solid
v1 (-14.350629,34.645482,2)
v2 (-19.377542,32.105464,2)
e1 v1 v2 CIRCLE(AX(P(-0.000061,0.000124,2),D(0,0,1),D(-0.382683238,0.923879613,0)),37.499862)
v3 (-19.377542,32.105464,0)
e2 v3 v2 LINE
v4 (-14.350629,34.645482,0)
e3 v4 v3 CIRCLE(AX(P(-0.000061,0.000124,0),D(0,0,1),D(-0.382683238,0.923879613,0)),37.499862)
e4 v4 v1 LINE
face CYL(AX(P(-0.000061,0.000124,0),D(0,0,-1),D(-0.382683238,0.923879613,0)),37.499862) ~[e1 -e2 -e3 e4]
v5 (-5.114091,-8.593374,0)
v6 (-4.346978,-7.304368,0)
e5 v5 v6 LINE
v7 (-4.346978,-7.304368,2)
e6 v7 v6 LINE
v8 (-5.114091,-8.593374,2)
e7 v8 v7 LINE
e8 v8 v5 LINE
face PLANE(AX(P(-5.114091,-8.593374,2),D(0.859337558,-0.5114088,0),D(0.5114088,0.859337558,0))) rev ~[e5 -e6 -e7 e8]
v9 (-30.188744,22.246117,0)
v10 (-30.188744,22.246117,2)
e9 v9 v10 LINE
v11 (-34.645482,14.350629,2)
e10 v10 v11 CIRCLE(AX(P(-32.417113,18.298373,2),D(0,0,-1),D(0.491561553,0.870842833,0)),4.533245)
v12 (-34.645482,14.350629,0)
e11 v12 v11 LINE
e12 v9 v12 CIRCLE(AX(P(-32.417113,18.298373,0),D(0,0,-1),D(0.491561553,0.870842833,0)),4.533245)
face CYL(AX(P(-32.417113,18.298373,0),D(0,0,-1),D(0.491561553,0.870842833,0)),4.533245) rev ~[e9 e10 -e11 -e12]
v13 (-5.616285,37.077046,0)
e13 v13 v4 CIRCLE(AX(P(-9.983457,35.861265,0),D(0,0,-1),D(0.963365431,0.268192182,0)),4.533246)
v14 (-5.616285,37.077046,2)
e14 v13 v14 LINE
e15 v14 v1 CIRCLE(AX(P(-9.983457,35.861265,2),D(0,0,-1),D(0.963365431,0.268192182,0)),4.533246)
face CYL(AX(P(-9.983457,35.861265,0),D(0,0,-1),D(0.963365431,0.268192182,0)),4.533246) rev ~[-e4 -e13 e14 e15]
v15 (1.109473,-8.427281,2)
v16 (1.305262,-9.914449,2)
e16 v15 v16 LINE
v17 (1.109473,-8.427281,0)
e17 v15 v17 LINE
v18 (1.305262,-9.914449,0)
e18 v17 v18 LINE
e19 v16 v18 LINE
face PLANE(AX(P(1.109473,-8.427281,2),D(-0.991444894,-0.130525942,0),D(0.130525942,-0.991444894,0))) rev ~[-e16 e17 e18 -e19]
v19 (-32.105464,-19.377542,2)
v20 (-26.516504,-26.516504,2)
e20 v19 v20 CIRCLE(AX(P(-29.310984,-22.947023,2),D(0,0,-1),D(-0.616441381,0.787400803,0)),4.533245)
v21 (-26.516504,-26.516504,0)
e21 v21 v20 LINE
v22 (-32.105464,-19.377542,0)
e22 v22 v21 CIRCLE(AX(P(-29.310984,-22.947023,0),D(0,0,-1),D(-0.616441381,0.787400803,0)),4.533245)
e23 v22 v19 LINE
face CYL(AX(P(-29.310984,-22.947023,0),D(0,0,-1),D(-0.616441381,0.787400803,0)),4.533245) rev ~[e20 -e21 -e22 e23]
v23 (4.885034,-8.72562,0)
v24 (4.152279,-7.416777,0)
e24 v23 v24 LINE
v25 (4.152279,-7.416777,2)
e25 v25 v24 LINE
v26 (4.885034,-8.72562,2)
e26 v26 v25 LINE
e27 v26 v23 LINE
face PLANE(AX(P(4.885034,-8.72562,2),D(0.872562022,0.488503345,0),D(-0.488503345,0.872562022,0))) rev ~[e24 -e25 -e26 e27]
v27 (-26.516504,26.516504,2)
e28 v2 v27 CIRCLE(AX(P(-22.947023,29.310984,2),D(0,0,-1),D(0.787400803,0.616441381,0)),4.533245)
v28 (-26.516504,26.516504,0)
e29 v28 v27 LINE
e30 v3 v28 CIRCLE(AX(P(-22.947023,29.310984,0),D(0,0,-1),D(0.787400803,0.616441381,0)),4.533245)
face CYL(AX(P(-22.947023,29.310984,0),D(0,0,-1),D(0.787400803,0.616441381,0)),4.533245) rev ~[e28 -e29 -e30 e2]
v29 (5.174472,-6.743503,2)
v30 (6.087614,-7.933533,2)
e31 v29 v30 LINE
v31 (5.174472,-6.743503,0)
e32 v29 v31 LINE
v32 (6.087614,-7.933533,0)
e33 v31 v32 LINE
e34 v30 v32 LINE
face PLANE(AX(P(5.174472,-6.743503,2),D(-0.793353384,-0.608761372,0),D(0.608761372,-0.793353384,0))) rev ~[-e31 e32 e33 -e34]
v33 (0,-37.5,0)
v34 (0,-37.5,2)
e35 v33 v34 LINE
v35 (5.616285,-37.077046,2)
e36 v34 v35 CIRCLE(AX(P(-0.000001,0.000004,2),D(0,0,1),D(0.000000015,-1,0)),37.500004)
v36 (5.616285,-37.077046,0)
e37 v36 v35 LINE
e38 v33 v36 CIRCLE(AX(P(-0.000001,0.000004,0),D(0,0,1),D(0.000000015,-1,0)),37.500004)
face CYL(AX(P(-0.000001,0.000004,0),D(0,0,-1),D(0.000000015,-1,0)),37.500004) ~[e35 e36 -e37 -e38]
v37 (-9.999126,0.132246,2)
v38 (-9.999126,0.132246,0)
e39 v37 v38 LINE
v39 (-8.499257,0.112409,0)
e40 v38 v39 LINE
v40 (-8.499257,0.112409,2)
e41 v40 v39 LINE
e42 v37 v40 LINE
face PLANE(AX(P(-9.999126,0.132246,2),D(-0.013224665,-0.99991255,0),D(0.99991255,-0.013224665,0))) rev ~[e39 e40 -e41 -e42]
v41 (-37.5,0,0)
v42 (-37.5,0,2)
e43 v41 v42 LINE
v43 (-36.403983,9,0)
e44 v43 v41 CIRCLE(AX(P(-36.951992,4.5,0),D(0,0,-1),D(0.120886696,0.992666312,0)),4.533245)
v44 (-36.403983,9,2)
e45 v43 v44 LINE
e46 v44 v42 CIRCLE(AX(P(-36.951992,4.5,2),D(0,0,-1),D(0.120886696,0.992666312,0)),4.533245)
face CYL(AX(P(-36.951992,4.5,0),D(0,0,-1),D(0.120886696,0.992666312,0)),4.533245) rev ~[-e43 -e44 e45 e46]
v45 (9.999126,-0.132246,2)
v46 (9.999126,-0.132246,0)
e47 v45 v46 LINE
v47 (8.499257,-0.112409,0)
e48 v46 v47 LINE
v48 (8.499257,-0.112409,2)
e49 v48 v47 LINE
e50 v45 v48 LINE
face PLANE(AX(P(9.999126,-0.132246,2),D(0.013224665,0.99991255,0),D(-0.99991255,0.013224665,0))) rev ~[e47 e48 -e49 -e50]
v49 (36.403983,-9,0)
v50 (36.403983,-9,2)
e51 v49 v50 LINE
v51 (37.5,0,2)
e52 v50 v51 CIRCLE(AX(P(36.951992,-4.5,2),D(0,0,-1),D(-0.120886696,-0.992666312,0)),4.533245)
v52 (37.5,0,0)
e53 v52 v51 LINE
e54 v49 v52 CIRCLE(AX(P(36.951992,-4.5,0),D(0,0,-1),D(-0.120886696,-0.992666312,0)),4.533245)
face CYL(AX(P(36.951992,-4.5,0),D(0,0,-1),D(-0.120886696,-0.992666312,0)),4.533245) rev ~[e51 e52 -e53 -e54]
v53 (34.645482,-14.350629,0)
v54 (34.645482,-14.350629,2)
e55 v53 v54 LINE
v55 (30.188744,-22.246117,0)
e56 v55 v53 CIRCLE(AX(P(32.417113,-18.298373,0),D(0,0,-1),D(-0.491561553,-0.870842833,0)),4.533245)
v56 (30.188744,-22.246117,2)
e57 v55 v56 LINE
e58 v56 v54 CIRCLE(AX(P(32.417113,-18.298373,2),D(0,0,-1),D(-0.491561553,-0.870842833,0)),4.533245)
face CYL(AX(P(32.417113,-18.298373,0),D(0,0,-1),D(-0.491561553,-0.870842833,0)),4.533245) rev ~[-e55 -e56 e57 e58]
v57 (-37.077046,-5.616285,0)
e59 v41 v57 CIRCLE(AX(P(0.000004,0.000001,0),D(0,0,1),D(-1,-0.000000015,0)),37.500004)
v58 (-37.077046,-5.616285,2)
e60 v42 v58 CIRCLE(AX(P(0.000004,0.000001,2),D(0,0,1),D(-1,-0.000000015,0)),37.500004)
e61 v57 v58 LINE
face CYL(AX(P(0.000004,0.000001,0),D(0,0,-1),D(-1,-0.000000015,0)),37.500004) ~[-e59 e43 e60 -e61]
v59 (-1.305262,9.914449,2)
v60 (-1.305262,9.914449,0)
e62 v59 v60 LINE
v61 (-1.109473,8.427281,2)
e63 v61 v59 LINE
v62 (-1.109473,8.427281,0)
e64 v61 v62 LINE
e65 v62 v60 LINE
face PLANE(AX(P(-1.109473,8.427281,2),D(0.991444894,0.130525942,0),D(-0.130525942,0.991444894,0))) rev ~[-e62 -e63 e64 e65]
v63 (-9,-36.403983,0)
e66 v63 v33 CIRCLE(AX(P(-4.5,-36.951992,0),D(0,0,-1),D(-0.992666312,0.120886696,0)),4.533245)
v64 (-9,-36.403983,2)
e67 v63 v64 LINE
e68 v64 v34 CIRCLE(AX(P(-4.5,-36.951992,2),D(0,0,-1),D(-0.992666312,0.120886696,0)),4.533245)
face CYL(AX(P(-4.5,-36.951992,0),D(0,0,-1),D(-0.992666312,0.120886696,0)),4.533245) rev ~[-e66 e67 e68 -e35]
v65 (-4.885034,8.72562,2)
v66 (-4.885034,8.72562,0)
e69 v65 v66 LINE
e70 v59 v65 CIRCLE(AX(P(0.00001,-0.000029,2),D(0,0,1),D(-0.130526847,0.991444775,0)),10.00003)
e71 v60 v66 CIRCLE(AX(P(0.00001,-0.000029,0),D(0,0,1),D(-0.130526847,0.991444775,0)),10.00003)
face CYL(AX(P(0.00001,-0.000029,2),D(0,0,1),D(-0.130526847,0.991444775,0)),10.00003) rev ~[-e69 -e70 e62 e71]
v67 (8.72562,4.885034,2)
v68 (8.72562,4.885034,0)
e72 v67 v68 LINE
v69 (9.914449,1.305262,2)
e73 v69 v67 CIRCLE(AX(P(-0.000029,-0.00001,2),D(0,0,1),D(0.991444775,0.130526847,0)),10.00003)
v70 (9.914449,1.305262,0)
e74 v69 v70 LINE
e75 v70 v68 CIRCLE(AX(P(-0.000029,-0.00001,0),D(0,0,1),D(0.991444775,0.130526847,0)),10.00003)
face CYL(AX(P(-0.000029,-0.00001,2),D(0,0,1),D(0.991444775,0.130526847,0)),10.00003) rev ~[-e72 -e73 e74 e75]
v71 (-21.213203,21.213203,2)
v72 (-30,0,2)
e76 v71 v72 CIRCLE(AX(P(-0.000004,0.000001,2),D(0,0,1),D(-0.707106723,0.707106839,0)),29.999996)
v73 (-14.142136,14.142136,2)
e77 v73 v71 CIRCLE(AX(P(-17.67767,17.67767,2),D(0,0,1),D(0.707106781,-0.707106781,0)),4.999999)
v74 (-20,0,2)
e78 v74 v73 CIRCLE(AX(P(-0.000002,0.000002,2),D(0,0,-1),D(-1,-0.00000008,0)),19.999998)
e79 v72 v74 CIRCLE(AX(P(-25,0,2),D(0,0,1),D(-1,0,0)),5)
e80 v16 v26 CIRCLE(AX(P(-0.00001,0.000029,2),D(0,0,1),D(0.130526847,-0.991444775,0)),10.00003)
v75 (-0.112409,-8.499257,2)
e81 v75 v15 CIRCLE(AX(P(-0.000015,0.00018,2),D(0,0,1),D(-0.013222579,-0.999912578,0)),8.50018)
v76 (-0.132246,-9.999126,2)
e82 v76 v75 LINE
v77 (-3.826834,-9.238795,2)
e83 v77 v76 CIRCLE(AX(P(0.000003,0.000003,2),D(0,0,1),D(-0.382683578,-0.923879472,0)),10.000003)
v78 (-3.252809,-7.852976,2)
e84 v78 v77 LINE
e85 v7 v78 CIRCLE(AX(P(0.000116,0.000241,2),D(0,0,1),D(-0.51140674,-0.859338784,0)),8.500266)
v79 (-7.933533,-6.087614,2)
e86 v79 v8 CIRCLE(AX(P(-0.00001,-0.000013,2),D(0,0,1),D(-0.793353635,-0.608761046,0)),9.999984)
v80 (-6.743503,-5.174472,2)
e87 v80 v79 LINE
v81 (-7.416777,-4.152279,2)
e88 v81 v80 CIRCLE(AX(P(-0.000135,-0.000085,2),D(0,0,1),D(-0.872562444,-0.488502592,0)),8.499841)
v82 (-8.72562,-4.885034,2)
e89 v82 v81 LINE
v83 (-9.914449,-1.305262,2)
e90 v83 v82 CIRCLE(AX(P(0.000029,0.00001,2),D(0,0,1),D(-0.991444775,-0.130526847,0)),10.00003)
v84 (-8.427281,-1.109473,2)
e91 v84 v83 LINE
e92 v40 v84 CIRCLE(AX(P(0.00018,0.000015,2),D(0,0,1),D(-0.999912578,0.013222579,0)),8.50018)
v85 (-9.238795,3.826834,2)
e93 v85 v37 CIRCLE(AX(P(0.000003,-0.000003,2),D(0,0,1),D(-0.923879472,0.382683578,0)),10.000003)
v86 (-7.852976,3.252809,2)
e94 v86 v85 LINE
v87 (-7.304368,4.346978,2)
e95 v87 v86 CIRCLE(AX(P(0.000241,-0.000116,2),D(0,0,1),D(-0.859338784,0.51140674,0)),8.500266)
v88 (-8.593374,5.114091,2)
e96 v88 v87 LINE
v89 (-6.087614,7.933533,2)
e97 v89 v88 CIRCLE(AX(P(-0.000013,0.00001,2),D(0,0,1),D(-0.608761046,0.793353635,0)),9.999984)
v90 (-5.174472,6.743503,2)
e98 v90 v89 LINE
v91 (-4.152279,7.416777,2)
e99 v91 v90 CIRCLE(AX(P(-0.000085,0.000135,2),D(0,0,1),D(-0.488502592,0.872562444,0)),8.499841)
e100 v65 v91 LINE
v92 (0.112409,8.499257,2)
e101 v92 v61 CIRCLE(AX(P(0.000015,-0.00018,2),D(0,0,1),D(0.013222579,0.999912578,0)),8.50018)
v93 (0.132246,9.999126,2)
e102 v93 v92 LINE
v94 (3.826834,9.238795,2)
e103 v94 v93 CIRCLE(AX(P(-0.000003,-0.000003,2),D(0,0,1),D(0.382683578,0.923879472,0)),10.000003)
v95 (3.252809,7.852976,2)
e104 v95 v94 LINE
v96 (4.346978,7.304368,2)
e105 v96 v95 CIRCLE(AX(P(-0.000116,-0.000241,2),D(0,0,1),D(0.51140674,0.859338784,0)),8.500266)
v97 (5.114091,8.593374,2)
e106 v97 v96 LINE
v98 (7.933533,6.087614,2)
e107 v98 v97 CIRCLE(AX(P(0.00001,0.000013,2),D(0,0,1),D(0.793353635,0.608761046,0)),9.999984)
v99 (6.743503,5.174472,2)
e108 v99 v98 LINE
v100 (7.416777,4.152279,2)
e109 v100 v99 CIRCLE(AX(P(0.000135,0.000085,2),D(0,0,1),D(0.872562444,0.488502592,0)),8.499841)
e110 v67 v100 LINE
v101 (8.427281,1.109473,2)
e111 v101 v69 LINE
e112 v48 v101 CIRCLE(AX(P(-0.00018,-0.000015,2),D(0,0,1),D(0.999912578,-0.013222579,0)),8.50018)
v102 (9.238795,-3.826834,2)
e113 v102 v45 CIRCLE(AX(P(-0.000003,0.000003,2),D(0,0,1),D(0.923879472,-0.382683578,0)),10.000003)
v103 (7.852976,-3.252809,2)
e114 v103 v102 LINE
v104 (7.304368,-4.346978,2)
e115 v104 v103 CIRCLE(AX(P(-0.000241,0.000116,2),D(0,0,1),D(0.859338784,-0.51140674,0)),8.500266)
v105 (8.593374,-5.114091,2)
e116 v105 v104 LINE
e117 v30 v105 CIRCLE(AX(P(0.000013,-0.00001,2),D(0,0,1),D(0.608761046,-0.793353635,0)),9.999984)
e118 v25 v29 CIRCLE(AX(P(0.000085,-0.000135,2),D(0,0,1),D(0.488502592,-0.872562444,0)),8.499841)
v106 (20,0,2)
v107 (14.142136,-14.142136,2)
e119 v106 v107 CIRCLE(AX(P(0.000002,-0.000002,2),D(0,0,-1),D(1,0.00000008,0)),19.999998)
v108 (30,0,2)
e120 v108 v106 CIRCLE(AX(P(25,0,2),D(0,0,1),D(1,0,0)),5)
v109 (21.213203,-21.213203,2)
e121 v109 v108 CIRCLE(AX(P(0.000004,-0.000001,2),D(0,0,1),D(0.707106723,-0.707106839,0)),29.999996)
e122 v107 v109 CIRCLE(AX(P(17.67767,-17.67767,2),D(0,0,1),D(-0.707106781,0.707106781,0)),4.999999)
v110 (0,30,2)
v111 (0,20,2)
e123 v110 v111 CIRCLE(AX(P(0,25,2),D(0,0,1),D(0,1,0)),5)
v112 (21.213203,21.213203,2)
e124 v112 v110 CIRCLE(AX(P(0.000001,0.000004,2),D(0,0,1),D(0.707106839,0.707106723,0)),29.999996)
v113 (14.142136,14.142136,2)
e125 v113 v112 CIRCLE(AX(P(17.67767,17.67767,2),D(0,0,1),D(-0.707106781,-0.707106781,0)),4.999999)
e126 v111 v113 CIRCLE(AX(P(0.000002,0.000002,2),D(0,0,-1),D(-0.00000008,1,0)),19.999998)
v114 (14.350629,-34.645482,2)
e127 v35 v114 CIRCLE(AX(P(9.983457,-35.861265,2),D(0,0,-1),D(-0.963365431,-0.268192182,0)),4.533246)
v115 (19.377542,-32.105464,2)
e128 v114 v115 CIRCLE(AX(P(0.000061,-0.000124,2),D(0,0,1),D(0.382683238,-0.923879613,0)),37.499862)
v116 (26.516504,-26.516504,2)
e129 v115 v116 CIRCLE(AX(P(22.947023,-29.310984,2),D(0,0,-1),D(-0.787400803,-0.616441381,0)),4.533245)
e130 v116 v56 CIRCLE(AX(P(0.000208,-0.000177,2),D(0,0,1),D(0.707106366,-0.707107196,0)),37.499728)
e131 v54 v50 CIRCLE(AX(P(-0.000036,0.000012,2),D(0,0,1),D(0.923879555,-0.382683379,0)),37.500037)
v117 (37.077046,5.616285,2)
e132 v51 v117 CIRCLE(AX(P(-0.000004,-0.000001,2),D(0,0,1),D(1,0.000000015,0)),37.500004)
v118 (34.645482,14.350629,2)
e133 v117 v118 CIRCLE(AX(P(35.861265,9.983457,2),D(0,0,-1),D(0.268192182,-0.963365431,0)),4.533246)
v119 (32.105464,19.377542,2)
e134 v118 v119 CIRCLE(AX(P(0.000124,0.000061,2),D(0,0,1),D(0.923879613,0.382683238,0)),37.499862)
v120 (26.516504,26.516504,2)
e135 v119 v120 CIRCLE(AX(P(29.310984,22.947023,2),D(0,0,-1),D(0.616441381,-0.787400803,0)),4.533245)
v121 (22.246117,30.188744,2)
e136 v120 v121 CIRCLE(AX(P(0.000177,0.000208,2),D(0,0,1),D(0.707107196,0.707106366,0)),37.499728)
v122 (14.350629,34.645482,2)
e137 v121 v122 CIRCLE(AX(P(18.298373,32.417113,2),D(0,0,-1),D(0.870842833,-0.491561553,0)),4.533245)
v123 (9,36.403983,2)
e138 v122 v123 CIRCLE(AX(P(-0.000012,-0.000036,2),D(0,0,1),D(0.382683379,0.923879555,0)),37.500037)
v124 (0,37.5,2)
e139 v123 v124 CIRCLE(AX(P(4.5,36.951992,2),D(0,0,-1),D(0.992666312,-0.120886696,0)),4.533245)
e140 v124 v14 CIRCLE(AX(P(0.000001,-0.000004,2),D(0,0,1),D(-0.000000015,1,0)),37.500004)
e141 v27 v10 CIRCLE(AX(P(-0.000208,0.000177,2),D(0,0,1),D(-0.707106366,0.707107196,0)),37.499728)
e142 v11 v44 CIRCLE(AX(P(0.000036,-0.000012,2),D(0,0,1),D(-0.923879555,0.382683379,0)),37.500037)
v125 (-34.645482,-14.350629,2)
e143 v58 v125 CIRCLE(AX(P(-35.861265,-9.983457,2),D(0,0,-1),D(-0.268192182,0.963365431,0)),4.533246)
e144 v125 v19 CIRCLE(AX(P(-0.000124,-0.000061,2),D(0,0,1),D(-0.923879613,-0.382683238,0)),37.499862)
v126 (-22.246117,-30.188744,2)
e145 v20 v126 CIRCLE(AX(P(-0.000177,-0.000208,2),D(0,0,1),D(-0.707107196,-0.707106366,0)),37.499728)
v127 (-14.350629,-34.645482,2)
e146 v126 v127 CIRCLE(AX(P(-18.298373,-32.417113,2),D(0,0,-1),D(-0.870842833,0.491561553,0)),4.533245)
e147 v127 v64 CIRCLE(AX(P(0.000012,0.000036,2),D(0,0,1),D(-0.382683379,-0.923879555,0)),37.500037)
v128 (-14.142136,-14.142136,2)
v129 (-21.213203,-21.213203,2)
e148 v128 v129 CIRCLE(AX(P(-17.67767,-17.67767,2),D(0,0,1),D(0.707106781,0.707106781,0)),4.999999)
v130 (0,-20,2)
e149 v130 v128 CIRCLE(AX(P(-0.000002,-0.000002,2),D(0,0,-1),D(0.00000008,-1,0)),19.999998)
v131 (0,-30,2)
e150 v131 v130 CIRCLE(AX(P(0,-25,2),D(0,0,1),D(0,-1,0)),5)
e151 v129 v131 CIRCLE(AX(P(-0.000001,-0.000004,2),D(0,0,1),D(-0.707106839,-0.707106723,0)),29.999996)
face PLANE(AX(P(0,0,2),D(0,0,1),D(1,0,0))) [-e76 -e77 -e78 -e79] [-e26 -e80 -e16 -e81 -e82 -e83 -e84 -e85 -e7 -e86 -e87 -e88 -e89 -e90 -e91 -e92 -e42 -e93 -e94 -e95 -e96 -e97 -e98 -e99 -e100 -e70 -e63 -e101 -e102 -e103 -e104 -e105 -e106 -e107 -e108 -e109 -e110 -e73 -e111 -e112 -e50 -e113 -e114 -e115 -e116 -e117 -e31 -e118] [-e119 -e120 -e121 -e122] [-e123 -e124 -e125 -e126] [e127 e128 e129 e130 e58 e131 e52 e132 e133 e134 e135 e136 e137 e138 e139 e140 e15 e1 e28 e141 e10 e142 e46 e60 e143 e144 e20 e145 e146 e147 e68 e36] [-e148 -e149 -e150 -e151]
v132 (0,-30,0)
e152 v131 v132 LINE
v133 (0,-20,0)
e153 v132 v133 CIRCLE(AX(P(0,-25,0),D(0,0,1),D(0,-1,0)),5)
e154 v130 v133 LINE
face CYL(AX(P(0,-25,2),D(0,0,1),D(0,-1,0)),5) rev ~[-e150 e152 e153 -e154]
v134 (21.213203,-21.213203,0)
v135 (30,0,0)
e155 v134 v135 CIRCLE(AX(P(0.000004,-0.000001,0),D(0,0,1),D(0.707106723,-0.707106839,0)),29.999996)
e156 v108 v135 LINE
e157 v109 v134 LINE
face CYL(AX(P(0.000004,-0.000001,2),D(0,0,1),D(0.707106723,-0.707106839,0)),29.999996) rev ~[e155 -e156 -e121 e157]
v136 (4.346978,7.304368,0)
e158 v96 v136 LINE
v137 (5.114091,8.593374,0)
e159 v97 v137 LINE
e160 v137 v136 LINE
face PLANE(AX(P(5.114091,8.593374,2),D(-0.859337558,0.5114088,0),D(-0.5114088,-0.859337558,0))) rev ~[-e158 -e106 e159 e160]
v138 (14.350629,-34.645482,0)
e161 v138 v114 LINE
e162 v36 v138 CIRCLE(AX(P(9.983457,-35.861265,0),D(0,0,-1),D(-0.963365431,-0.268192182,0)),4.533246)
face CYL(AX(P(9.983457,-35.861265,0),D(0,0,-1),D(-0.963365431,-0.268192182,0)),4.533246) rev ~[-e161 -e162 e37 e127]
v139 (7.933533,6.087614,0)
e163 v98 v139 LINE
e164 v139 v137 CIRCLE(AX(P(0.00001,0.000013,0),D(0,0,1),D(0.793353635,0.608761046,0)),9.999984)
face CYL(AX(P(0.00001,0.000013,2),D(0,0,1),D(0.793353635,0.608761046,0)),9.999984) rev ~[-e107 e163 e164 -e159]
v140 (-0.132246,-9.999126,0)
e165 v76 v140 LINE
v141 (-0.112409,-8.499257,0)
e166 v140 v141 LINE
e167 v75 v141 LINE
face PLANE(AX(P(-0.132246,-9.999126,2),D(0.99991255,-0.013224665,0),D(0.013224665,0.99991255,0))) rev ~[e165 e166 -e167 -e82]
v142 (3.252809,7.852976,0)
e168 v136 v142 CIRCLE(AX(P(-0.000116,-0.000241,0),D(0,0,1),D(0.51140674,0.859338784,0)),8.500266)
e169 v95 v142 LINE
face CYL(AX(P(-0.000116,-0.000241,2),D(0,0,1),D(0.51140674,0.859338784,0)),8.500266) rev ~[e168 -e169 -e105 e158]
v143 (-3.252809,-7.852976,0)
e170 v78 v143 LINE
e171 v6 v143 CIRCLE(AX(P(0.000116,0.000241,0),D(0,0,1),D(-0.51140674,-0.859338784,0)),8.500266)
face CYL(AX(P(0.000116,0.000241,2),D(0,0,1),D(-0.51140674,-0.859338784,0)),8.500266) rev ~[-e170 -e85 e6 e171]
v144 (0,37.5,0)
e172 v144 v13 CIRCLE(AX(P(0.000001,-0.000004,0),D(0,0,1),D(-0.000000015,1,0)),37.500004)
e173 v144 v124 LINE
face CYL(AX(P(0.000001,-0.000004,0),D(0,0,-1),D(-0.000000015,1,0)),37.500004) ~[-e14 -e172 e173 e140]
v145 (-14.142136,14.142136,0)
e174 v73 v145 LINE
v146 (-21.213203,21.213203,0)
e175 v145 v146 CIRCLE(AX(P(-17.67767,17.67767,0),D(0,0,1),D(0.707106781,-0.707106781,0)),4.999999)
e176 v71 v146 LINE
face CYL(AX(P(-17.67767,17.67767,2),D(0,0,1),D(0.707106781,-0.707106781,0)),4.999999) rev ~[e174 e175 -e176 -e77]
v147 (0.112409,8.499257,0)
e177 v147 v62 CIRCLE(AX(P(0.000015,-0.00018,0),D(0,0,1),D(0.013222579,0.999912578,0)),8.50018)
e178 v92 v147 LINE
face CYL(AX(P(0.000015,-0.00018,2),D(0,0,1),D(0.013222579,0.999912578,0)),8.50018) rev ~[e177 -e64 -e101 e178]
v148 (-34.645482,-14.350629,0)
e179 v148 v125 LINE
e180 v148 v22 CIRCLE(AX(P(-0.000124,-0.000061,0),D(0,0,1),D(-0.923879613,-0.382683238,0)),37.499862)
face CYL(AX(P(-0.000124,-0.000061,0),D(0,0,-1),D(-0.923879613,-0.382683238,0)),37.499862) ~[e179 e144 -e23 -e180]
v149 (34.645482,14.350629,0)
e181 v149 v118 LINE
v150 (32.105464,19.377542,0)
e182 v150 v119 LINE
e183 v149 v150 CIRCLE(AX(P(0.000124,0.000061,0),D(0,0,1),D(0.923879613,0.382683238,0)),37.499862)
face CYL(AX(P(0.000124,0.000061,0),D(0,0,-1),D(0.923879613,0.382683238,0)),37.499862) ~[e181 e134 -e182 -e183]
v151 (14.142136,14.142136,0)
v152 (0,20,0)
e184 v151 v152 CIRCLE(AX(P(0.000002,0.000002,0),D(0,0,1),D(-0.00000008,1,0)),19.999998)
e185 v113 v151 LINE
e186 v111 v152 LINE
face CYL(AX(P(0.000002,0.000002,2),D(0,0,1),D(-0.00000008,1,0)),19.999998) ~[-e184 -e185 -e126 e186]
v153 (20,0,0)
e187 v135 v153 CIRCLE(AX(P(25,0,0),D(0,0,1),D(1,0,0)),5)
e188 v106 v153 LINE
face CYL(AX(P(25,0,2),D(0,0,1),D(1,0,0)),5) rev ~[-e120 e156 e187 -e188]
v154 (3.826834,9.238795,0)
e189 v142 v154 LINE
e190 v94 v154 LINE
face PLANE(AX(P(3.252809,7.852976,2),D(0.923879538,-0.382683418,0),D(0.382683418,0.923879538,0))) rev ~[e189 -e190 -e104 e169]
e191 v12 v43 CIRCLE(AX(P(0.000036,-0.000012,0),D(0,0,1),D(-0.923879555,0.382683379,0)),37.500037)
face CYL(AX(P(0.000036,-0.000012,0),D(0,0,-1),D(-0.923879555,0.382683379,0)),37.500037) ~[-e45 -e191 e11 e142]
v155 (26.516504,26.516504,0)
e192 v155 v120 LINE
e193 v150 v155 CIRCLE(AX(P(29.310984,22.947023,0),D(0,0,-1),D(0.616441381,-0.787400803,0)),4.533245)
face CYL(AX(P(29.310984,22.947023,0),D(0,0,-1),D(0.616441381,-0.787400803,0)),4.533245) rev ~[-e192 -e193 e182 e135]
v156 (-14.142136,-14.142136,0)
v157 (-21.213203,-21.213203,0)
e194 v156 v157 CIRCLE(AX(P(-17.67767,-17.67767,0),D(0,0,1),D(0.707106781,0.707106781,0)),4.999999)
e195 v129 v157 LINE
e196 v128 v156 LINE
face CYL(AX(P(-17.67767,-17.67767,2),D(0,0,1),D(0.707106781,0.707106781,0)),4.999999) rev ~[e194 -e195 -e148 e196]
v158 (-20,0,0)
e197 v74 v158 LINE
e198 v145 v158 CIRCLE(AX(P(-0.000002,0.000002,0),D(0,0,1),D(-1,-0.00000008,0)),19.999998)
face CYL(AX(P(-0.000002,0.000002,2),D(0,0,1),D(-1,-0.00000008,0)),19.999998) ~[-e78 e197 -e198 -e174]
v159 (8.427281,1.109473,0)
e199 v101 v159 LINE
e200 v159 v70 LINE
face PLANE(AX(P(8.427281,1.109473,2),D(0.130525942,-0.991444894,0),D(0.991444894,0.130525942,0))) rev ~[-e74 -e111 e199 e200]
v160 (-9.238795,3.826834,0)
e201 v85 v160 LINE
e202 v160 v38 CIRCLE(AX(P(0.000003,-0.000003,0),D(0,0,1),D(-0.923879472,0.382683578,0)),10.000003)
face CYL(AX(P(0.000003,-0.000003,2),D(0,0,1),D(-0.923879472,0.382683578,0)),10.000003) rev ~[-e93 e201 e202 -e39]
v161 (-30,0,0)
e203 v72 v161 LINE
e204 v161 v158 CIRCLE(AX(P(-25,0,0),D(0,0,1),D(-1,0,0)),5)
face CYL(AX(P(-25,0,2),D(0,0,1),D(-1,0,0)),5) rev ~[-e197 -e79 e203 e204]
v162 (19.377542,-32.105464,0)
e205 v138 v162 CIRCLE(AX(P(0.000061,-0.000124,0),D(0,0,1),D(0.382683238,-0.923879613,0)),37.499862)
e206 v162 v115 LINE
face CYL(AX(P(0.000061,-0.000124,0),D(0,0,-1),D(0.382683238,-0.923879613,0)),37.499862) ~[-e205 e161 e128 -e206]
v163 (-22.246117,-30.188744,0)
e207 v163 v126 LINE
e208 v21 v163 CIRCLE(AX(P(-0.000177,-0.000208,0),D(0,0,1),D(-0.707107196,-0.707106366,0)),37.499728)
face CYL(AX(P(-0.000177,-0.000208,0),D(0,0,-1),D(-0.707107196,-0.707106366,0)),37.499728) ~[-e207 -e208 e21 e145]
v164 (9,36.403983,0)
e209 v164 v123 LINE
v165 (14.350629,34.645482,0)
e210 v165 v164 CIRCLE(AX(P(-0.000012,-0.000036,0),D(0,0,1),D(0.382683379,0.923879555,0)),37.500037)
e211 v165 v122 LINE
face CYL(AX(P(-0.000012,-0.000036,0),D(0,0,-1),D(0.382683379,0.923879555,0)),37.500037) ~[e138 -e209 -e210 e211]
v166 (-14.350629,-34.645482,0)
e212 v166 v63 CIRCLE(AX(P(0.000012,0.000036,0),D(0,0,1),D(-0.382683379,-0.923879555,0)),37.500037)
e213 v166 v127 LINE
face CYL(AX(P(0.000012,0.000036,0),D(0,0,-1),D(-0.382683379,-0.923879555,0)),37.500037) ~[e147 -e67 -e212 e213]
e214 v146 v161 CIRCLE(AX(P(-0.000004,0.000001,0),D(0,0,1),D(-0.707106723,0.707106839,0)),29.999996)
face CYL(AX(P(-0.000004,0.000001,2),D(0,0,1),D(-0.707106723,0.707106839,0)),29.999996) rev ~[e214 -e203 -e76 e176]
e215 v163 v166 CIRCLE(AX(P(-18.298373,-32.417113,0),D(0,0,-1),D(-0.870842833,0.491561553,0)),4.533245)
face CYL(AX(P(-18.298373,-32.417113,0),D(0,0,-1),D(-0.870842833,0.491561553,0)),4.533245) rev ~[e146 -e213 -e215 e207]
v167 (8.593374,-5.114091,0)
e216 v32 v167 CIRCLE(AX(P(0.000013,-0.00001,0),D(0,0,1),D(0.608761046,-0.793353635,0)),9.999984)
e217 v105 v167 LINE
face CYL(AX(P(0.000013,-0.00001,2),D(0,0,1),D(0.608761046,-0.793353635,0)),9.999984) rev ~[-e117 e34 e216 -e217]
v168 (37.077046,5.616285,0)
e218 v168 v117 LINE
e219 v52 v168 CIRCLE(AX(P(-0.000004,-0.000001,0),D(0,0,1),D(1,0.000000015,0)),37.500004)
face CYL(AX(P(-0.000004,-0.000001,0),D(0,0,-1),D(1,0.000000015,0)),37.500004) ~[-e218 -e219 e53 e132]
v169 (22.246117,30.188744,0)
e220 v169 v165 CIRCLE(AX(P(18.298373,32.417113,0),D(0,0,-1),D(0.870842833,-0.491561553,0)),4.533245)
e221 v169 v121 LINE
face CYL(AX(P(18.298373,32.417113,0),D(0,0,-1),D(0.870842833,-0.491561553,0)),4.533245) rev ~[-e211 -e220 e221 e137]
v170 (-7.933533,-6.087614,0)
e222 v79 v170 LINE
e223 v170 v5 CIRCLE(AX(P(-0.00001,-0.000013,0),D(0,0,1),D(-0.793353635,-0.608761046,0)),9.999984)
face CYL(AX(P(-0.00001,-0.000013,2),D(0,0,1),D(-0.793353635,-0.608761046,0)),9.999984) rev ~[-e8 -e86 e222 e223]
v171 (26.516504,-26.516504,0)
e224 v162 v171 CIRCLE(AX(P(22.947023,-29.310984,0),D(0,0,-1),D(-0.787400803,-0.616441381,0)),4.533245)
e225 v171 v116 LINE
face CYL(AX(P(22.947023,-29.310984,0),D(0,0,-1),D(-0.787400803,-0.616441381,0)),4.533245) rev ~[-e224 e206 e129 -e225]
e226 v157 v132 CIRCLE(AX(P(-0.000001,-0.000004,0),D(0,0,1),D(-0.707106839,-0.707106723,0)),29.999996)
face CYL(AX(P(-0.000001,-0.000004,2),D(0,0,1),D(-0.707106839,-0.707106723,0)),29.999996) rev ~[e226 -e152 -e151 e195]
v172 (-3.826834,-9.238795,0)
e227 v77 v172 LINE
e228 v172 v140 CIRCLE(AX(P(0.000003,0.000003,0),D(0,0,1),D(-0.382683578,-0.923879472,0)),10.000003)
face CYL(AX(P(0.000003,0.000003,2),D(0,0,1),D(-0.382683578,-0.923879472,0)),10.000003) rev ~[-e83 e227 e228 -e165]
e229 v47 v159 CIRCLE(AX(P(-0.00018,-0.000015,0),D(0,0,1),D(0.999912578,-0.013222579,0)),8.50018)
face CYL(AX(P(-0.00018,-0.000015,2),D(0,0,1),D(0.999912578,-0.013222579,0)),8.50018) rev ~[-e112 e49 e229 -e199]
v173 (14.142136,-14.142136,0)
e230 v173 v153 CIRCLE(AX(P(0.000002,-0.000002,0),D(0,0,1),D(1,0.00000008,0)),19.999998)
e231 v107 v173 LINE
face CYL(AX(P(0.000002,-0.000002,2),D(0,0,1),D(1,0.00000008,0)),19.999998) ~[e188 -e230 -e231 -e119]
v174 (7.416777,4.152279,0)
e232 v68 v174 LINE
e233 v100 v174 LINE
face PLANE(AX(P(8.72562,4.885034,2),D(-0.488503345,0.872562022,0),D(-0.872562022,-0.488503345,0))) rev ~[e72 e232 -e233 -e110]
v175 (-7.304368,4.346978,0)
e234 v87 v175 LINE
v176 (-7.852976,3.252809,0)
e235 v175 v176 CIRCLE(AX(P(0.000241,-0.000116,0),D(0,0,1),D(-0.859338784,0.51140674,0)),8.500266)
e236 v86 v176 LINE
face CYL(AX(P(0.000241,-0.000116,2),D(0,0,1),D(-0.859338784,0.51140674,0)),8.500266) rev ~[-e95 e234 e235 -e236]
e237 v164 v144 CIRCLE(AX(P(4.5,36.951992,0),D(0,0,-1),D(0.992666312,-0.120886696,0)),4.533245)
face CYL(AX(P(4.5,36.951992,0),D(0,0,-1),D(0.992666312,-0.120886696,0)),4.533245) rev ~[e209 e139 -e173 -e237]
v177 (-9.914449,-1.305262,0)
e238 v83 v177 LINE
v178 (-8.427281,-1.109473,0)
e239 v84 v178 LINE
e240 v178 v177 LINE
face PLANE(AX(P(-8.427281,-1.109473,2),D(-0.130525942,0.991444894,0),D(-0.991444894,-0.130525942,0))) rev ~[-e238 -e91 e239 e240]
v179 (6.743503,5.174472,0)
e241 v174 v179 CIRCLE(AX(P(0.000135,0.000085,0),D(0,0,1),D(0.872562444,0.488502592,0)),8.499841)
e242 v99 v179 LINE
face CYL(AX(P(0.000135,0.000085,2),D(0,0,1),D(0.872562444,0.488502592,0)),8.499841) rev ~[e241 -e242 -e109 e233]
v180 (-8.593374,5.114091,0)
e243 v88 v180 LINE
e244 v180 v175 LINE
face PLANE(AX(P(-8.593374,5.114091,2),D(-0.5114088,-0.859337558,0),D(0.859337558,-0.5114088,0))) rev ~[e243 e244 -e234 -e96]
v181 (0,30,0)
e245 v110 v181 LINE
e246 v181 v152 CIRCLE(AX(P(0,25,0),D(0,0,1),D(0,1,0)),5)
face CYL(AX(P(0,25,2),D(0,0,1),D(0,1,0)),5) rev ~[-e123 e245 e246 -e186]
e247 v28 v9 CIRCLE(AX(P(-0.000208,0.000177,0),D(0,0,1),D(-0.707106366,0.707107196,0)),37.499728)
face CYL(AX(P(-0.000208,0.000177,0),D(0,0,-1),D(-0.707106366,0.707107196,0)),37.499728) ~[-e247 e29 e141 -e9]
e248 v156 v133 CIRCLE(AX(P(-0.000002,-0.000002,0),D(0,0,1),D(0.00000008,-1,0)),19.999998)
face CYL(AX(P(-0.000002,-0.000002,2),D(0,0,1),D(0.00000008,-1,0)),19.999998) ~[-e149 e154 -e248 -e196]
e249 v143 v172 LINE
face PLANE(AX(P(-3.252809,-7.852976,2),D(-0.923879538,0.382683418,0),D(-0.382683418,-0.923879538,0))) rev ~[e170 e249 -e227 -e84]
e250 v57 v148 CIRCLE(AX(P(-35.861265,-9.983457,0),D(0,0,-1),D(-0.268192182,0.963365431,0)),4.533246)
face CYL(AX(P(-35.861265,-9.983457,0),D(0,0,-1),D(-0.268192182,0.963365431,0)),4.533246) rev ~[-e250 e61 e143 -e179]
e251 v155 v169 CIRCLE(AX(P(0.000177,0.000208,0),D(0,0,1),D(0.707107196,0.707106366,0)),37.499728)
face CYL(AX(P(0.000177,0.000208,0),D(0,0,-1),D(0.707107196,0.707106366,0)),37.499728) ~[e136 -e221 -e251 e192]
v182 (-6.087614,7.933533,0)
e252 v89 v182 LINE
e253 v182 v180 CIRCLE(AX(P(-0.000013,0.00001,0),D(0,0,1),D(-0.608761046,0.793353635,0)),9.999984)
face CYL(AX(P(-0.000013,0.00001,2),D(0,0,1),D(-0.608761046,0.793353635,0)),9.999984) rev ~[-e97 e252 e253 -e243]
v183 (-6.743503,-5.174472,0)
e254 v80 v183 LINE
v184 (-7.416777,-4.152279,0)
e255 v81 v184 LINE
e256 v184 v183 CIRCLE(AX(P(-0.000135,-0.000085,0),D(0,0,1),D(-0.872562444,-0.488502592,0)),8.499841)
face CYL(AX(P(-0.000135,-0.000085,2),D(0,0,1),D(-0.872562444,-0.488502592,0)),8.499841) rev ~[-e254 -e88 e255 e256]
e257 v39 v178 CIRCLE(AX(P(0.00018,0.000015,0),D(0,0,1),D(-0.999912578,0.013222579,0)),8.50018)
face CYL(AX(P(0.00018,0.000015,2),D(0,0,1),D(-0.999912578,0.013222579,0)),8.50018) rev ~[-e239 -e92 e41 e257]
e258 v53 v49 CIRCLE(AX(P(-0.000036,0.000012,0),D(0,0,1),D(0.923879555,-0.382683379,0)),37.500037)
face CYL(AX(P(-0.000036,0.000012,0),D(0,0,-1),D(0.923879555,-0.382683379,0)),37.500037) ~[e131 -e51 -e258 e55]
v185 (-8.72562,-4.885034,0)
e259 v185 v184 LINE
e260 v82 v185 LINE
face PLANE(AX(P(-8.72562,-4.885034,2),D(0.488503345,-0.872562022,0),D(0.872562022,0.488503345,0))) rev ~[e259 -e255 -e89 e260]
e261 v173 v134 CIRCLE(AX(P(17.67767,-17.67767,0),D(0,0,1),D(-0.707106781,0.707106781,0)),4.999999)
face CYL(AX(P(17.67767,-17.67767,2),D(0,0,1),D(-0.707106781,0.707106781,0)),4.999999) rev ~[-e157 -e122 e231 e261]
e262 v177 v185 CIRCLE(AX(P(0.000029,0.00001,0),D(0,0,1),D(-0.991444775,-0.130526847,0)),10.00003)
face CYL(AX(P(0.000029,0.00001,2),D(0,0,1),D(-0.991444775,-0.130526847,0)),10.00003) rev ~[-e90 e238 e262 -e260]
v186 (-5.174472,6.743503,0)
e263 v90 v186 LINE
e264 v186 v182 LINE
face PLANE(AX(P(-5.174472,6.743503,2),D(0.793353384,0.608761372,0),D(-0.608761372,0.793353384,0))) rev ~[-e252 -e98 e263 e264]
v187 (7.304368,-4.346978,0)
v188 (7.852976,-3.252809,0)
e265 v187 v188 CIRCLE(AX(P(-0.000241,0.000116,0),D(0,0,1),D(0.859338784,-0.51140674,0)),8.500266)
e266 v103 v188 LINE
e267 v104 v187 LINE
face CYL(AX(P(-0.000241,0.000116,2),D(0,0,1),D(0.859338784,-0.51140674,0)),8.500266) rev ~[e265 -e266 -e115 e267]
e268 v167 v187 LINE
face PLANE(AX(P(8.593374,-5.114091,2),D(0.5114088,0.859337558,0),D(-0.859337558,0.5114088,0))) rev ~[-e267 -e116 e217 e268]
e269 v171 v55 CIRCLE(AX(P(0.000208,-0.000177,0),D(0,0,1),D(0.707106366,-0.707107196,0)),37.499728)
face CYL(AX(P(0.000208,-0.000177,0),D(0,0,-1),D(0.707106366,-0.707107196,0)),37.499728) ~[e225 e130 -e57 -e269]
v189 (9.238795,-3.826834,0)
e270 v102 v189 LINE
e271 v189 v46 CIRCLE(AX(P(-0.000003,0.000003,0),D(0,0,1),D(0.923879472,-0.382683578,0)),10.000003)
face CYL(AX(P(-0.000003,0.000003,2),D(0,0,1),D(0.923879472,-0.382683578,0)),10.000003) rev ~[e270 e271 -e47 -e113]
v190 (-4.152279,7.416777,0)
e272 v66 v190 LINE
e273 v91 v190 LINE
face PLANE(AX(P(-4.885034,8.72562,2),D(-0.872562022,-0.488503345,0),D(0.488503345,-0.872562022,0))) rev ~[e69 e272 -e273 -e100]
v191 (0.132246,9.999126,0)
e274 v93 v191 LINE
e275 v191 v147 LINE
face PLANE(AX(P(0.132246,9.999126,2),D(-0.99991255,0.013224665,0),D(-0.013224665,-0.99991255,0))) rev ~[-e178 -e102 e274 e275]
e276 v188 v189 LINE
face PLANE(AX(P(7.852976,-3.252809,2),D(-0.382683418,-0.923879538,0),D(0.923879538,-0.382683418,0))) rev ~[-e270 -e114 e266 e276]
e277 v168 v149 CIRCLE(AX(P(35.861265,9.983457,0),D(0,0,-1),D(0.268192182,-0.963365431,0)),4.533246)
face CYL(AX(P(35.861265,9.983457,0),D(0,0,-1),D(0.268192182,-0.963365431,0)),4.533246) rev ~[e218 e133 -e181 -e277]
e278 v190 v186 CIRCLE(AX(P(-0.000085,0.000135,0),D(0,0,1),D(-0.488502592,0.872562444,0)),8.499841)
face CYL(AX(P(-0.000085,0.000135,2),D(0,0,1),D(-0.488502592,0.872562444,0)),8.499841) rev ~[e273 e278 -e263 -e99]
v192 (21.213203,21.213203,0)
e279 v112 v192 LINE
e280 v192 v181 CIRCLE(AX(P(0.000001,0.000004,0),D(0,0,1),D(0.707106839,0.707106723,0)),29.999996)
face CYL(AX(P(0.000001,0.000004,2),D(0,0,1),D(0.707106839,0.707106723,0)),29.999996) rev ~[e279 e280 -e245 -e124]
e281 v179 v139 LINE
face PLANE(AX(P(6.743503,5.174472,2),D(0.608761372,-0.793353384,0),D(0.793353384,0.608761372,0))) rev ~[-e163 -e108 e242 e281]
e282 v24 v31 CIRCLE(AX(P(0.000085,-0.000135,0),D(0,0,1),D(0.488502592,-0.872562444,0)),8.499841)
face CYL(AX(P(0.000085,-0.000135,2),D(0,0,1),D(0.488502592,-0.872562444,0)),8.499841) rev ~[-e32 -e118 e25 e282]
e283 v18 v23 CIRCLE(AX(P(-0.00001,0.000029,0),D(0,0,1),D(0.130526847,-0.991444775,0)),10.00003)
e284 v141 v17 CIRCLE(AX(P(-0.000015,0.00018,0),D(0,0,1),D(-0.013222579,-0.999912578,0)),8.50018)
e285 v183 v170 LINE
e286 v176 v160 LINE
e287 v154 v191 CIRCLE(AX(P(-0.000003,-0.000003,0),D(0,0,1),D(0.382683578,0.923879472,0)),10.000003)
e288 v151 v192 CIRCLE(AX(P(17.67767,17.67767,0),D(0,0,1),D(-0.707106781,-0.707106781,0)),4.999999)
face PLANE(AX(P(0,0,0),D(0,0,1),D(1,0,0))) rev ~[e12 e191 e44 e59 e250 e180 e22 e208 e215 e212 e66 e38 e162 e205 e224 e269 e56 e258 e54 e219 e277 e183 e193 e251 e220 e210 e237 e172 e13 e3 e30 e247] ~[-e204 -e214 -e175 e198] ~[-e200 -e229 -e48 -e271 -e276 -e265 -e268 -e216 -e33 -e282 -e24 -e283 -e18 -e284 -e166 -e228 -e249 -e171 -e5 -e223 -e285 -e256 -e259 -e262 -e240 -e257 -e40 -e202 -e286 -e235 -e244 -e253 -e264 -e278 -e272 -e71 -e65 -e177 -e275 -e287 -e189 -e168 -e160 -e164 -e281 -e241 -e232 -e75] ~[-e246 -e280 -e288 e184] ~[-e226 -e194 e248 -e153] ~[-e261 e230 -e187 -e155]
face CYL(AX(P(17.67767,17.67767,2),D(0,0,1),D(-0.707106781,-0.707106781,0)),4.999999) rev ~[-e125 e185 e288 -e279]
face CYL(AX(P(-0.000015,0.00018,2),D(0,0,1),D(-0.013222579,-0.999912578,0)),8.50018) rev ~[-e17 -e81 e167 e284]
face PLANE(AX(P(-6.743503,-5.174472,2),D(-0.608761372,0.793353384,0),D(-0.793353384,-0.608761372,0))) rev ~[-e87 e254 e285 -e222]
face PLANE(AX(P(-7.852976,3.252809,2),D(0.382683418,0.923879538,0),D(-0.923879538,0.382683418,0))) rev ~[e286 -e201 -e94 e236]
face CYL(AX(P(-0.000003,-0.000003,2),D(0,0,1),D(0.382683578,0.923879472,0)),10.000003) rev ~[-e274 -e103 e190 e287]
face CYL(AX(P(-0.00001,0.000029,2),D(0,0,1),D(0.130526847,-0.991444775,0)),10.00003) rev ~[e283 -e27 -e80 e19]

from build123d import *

# Parameters (mm, degrees)
F1_DEPTH = 2
F3_DEPTH = 25
F5_DEPTH = 2


with BuildPart() as f1:
    # F0 (on Top) → F1 (new body)
    with BuildSketch(Plane.XY):
        with BuildLine():
            ThreePointArc((36.403983, -9), (32.451992, -3.951992), (37.5, 0))
            ThreePointArc((37.5, 0), (37.394112, 2.816094), (37.077046, 5.616285))
            ThreePointArc((37.077046, 5.616285), (31.494093, 8.767675), (34.645482, 14.350629))
            ThreePointArc((34.645482, 14.350629), (33.469982, 16.911839), (32.105464, 19.377542))
            ThreePointArc((32.105464, 19.377542), (25.741503, 20.152543), (26.516504, 26.516504))
            ThreePointArc((26.516504, 26.516504), (24.450351, 28.43291), (22.246117, 30.188744))
            ThreePointArc((22.246117, 30.188744), (16.070004, 28.469369), (14.350629, 34.645482))
            ThreePointArc((14.350629, 34.645482), (11.708375, 35.625327), (9, 36.403983))
            ThreePointArc((9, 36.403983), (3.951992, 32.451992), (0, 37.5))
            ThreePointArc((0, 37.5), (-2.816094, 37.394112), (-5.616285, 37.077046))
            ThreePointArc((-5.616285, 37.077046), (-8.767675, 31.494093), (-14.350629, 34.645482))
            ThreePointArc((-14.350629, 34.645482), (-16.911839, 33.469982), (-19.377542, 32.105464))
            ThreePointArc((-19.377542, 32.105464), (-20.152543, 25.741503), (-26.516504, 26.516504))
            ThreePointArc((-26.516504, 26.516504), (-28.43291, 24.450351), (-30.188744, 22.246117))
            ThreePointArc((-30.188744, 22.246117), (-28.469369, 16.070004), (-34.645482, 14.350629))
            ThreePointArc((-34.645482, 14.350629), (-35.625327, 11.708375), (-36.403983, 9))
            ThreePointArc((-36.403983, 9), (-32.451992, 3.951992), (-37.5, 0))
            ThreePointArc((-37.5, 0), (-37.394112, -2.816094), (-37.077046, -5.616285))
            ThreePointArc((-37.077046, -5.616285), (-31.494093, -8.767675), (-34.645482, -14.350629))
            ThreePointArc((-34.645482, -14.350629), (-33.469982, -16.911839), (-32.105464, -19.377542))
            ThreePointArc((-32.105464, -19.377542), (-25.741503, -20.152543), (-26.516504, -26.516504))
            ThreePointArc((-26.516504, -26.516504), (-24.450351, -28.43291), (-22.246117, -30.188744))
            ThreePointArc((-22.246117, -30.188744), (-16.070004, -28.469369), (-14.350629, -34.645482))
            ThreePointArc((-14.350629, -34.645482), (-11.708375, -35.625327), (-9, -36.403983))
            ThreePointArc((-9, -36.403983), (-3.951992, -32.451992), (0, -37.5))
            ThreePointArc((0, -37.5), (2.816094, -37.394112), (5.616285, -37.077046))
            ThreePointArc((5.616285, -37.077046), (8.767675, -31.494093), (14.350629, -34.645482))
            ThreePointArc((14.350629, -34.645482), (16.911839, -33.469982), (19.377542, -32.105464))
            ThreePointArc((19.377542, -32.105464), (20.152543, -25.741503), (26.516504, -26.516504))
            ThreePointArc((26.516504, -26.516504), (28.43291, -24.450351), (30.188744, -22.246117))
            ThreePointArc((30.188744, -22.246117), (28.469369, -16.070004), (34.645482, -14.350629))
            ThreePointArc((34.645482, -14.350629), (35.625327, -11.708375), (36.403983, -9))
        make_face()
    extrude(amount=F1_DEPTH)

    # F2 (on face) → F3 (cut)
    with BuildSketch(Plane.XY.offset(2)):
        with BuildLine():
            ThreePointArc((-20, 0), (-18.477591, 7.653669), (-14.142136, 14.142136))
            ThreePointArc((-14.142136, 14.142136), (-14.142136, 21.213203), (-21.213203, 21.213203))
            ThreePointArc((-21.213203, 21.213203), (-27.716386, 11.480503), (-30, 0))
            ThreePointArc((-30, 0), (-25, -5), (-20, 0))
        make_face()
        with BuildLine():
            ThreePointArc((0, 20), (7.653669, 18.477591), (14.142136, 14.142136))
            ThreePointArc((14.142136, 14.142136), (21.213203, 14.142136), (21.213203, 21.213203))
            ThreePointArc((21.213203, 21.213203), (11.480503, 27.716386), (0, 30))
            ThreePointArc((0, 30), (-5, 25), (0, 20))
        make_face()
        with BuildLine():
            ThreePointArc((20, 0), (18.477591, -7.653669), (14.142136, -14.142136))
            ThreePointArc((14.142136, -14.142136), (14.142136, -21.213203), (21.213203, -21.213203))
            ThreePointArc((21.213203, -21.213203), (27.716386, -11.480503), (30, 0))
            ThreePointArc((30, 0), (25, 5), (20, 0))
        make_face()
        with BuildLine():
            ThreePointArc((0, -20), (-7.653669, -18.477591), (-14.142136, -14.142136))
            ThreePointArc((-14.142136, -14.142136), (-21.213203, -14.142136), (-21.213203, -21.213203))
            ThreePointArc((-21.213203, -21.213203), (-11.480503, -27.716386), (0, -30))
            ThreePointArc((0, -30), (5, -25), (0, -20))
        make_face()
    extrude(amount=-F3_DEPTH, mode=Mode.SUBTRACT)

    # F4 (on face) → F5 (cut)
    with BuildSketch(Plane.XY.offset(2)):
        with BuildLine():
            Line((8.427281, 1.109473), (9.914449, 1.305262))
            ThreePointArc((9.914449, 1.305262), (9.490349, 3.151709), (8.72562, 4.885034))
            Line((8.72562, 4.885034), (7.416777, 4.152279))
            ThreePointArc((7.416777, 4.152279), (7.098564, 4.67551), (6.743503, 5.174472))
            Line((6.743503, 5.174472), (7.933533, 6.087614))
            ThreePointArc((7.933533, 6.087614), (6.643029, 7.474635), (5.114091, 8.593374))
            Line((5.114091, 8.593374), (4.346978, 7.304368))
            ThreePointArc((4.346978, 7.304368), (3.809781, 7.598392), (3.252809, 7.852976))
            Line((3.252809, 7.852976), (3.826834, 9.238795))
            ThreePointArc((3.826834, 9.238795), (2.015715, 9.794738), (0.132246, 9.999126))
            Line((0.132246, 9.999126), (0.112409, 8.499257))
            ThreePointArc((0.112409, 8.499257), (-0.499829, 8.485291), (-1.109473, 8.427281))
            Line((-1.109473, 8.427281), (-1.305262, 9.914449))
            ThreePointArc((-1.305262, 9.914449), (-3.151709, 9.490349), (-4.885034, 8.72562))
            Line((-4.885034, 8.72562), (-4.152279, 7.416777))
            ThreePointArc((-4.152279, 7.416777), (-4.67551, 7.098564), (-5.174472, 6.743503))
            Line((-5.174472, 6.743503), (-6.087614, 7.933533))
            ThreePointArc((-6.087614, 7.933533), (-7.474635, 6.643029), (-8.593374, 5.114091))
            Line((-8.593374, 5.114091), (-7.304368, 4.346978))
            ThreePointArc((-7.304368, 4.346978), (-7.598392, 3.809781), (-7.852976, 3.252809))
            Line((-7.852976, 3.252809), (-9.238795, 3.826834))
            ThreePointArc((-9.238795, 3.826834), (-9.794738, 2.015715), (-9.999126, 0.132246))
            Line((-9.999126, 0.132246), (-8.499257, 0.112409))
            ThreePointArc((-8.499257, 0.112409), (-8.485291, -0.499829), (-8.427281, -1.109473))
            Line((-8.427281, -1.109473), (-9.914449, -1.305262))
            ThreePointArc((-9.914449, -1.305262), (-9.490349, -3.151709), (-8.72562, -4.885034))
            Line((-8.72562, -4.885034), (-7.416777, -4.152279))
            ThreePointArc((-7.416777, -4.152279), (-7.098564, -4.67551), (-6.743503, -5.174472))
            Line((-6.743503, -5.174472), (-7.933533, -6.087614))
            ThreePointArc((-7.933533, -6.087614), (-6.643029, -7.474635), (-5.114091, -8.593374))
            Line((-5.114091, -8.593374), (-4.346978, -7.304368))
            ThreePointArc((-4.346978, -7.304368), (-3.809781, -7.598392), (-3.252809, -7.852976))
            Line((-3.252809, -7.852976), (-3.826834, -9.238795))
            ThreePointArc((-3.826834, -9.238795), (-2.015715, -9.794738), (-0.132246, -9.999126))
            Line((-0.132246, -9.999126), (-0.112409, -8.499257))
            ThreePointArc((-0.112409, -8.499257), (0.499829, -8.485291), (1.109473, -8.427281))
            Line((1.109473, -8.427281), (1.305262, -9.914449))
            ThreePointArc((1.305262, -9.914449), (3.151709, -9.490349), (4.885034, -8.72562))
            Line((4.885034, -8.72562), (4.152279, -7.416777))
            ThreePointArc((4.152279, -7.416777), (4.67551, -7.098564), (5.174472, -6.743503))
            Line((5.174472, -6.743503), (6.087614, -7.933533))
            ThreePointArc((6.087614, -7.933533), (7.474635, -6.643029), (8.593374, -5.114091))
            Line((8.593374, -5.114091), (7.304368, -4.346978))
            ThreePointArc((7.304368, -4.346978), (7.598392, -3.809781), (7.852976, -3.252809))
            Line((7.852976, -3.252809), (9.238795, -3.826834))
            ThreePointArc((9.238795, -3.826834), (9.794738, -2.015715), (9.999126, -0.132246))
            Line((9.999126, -0.132246), (8.499257, -0.112409))
            ThreePointArc((8.499257, -0.112409), (8.485291, 0.499829), (8.427281, 1.109473))
        make_face()
    extrude(amount=-F5_DEPTH, mode=Mode.SUBTRACT)


solid = f1.part
